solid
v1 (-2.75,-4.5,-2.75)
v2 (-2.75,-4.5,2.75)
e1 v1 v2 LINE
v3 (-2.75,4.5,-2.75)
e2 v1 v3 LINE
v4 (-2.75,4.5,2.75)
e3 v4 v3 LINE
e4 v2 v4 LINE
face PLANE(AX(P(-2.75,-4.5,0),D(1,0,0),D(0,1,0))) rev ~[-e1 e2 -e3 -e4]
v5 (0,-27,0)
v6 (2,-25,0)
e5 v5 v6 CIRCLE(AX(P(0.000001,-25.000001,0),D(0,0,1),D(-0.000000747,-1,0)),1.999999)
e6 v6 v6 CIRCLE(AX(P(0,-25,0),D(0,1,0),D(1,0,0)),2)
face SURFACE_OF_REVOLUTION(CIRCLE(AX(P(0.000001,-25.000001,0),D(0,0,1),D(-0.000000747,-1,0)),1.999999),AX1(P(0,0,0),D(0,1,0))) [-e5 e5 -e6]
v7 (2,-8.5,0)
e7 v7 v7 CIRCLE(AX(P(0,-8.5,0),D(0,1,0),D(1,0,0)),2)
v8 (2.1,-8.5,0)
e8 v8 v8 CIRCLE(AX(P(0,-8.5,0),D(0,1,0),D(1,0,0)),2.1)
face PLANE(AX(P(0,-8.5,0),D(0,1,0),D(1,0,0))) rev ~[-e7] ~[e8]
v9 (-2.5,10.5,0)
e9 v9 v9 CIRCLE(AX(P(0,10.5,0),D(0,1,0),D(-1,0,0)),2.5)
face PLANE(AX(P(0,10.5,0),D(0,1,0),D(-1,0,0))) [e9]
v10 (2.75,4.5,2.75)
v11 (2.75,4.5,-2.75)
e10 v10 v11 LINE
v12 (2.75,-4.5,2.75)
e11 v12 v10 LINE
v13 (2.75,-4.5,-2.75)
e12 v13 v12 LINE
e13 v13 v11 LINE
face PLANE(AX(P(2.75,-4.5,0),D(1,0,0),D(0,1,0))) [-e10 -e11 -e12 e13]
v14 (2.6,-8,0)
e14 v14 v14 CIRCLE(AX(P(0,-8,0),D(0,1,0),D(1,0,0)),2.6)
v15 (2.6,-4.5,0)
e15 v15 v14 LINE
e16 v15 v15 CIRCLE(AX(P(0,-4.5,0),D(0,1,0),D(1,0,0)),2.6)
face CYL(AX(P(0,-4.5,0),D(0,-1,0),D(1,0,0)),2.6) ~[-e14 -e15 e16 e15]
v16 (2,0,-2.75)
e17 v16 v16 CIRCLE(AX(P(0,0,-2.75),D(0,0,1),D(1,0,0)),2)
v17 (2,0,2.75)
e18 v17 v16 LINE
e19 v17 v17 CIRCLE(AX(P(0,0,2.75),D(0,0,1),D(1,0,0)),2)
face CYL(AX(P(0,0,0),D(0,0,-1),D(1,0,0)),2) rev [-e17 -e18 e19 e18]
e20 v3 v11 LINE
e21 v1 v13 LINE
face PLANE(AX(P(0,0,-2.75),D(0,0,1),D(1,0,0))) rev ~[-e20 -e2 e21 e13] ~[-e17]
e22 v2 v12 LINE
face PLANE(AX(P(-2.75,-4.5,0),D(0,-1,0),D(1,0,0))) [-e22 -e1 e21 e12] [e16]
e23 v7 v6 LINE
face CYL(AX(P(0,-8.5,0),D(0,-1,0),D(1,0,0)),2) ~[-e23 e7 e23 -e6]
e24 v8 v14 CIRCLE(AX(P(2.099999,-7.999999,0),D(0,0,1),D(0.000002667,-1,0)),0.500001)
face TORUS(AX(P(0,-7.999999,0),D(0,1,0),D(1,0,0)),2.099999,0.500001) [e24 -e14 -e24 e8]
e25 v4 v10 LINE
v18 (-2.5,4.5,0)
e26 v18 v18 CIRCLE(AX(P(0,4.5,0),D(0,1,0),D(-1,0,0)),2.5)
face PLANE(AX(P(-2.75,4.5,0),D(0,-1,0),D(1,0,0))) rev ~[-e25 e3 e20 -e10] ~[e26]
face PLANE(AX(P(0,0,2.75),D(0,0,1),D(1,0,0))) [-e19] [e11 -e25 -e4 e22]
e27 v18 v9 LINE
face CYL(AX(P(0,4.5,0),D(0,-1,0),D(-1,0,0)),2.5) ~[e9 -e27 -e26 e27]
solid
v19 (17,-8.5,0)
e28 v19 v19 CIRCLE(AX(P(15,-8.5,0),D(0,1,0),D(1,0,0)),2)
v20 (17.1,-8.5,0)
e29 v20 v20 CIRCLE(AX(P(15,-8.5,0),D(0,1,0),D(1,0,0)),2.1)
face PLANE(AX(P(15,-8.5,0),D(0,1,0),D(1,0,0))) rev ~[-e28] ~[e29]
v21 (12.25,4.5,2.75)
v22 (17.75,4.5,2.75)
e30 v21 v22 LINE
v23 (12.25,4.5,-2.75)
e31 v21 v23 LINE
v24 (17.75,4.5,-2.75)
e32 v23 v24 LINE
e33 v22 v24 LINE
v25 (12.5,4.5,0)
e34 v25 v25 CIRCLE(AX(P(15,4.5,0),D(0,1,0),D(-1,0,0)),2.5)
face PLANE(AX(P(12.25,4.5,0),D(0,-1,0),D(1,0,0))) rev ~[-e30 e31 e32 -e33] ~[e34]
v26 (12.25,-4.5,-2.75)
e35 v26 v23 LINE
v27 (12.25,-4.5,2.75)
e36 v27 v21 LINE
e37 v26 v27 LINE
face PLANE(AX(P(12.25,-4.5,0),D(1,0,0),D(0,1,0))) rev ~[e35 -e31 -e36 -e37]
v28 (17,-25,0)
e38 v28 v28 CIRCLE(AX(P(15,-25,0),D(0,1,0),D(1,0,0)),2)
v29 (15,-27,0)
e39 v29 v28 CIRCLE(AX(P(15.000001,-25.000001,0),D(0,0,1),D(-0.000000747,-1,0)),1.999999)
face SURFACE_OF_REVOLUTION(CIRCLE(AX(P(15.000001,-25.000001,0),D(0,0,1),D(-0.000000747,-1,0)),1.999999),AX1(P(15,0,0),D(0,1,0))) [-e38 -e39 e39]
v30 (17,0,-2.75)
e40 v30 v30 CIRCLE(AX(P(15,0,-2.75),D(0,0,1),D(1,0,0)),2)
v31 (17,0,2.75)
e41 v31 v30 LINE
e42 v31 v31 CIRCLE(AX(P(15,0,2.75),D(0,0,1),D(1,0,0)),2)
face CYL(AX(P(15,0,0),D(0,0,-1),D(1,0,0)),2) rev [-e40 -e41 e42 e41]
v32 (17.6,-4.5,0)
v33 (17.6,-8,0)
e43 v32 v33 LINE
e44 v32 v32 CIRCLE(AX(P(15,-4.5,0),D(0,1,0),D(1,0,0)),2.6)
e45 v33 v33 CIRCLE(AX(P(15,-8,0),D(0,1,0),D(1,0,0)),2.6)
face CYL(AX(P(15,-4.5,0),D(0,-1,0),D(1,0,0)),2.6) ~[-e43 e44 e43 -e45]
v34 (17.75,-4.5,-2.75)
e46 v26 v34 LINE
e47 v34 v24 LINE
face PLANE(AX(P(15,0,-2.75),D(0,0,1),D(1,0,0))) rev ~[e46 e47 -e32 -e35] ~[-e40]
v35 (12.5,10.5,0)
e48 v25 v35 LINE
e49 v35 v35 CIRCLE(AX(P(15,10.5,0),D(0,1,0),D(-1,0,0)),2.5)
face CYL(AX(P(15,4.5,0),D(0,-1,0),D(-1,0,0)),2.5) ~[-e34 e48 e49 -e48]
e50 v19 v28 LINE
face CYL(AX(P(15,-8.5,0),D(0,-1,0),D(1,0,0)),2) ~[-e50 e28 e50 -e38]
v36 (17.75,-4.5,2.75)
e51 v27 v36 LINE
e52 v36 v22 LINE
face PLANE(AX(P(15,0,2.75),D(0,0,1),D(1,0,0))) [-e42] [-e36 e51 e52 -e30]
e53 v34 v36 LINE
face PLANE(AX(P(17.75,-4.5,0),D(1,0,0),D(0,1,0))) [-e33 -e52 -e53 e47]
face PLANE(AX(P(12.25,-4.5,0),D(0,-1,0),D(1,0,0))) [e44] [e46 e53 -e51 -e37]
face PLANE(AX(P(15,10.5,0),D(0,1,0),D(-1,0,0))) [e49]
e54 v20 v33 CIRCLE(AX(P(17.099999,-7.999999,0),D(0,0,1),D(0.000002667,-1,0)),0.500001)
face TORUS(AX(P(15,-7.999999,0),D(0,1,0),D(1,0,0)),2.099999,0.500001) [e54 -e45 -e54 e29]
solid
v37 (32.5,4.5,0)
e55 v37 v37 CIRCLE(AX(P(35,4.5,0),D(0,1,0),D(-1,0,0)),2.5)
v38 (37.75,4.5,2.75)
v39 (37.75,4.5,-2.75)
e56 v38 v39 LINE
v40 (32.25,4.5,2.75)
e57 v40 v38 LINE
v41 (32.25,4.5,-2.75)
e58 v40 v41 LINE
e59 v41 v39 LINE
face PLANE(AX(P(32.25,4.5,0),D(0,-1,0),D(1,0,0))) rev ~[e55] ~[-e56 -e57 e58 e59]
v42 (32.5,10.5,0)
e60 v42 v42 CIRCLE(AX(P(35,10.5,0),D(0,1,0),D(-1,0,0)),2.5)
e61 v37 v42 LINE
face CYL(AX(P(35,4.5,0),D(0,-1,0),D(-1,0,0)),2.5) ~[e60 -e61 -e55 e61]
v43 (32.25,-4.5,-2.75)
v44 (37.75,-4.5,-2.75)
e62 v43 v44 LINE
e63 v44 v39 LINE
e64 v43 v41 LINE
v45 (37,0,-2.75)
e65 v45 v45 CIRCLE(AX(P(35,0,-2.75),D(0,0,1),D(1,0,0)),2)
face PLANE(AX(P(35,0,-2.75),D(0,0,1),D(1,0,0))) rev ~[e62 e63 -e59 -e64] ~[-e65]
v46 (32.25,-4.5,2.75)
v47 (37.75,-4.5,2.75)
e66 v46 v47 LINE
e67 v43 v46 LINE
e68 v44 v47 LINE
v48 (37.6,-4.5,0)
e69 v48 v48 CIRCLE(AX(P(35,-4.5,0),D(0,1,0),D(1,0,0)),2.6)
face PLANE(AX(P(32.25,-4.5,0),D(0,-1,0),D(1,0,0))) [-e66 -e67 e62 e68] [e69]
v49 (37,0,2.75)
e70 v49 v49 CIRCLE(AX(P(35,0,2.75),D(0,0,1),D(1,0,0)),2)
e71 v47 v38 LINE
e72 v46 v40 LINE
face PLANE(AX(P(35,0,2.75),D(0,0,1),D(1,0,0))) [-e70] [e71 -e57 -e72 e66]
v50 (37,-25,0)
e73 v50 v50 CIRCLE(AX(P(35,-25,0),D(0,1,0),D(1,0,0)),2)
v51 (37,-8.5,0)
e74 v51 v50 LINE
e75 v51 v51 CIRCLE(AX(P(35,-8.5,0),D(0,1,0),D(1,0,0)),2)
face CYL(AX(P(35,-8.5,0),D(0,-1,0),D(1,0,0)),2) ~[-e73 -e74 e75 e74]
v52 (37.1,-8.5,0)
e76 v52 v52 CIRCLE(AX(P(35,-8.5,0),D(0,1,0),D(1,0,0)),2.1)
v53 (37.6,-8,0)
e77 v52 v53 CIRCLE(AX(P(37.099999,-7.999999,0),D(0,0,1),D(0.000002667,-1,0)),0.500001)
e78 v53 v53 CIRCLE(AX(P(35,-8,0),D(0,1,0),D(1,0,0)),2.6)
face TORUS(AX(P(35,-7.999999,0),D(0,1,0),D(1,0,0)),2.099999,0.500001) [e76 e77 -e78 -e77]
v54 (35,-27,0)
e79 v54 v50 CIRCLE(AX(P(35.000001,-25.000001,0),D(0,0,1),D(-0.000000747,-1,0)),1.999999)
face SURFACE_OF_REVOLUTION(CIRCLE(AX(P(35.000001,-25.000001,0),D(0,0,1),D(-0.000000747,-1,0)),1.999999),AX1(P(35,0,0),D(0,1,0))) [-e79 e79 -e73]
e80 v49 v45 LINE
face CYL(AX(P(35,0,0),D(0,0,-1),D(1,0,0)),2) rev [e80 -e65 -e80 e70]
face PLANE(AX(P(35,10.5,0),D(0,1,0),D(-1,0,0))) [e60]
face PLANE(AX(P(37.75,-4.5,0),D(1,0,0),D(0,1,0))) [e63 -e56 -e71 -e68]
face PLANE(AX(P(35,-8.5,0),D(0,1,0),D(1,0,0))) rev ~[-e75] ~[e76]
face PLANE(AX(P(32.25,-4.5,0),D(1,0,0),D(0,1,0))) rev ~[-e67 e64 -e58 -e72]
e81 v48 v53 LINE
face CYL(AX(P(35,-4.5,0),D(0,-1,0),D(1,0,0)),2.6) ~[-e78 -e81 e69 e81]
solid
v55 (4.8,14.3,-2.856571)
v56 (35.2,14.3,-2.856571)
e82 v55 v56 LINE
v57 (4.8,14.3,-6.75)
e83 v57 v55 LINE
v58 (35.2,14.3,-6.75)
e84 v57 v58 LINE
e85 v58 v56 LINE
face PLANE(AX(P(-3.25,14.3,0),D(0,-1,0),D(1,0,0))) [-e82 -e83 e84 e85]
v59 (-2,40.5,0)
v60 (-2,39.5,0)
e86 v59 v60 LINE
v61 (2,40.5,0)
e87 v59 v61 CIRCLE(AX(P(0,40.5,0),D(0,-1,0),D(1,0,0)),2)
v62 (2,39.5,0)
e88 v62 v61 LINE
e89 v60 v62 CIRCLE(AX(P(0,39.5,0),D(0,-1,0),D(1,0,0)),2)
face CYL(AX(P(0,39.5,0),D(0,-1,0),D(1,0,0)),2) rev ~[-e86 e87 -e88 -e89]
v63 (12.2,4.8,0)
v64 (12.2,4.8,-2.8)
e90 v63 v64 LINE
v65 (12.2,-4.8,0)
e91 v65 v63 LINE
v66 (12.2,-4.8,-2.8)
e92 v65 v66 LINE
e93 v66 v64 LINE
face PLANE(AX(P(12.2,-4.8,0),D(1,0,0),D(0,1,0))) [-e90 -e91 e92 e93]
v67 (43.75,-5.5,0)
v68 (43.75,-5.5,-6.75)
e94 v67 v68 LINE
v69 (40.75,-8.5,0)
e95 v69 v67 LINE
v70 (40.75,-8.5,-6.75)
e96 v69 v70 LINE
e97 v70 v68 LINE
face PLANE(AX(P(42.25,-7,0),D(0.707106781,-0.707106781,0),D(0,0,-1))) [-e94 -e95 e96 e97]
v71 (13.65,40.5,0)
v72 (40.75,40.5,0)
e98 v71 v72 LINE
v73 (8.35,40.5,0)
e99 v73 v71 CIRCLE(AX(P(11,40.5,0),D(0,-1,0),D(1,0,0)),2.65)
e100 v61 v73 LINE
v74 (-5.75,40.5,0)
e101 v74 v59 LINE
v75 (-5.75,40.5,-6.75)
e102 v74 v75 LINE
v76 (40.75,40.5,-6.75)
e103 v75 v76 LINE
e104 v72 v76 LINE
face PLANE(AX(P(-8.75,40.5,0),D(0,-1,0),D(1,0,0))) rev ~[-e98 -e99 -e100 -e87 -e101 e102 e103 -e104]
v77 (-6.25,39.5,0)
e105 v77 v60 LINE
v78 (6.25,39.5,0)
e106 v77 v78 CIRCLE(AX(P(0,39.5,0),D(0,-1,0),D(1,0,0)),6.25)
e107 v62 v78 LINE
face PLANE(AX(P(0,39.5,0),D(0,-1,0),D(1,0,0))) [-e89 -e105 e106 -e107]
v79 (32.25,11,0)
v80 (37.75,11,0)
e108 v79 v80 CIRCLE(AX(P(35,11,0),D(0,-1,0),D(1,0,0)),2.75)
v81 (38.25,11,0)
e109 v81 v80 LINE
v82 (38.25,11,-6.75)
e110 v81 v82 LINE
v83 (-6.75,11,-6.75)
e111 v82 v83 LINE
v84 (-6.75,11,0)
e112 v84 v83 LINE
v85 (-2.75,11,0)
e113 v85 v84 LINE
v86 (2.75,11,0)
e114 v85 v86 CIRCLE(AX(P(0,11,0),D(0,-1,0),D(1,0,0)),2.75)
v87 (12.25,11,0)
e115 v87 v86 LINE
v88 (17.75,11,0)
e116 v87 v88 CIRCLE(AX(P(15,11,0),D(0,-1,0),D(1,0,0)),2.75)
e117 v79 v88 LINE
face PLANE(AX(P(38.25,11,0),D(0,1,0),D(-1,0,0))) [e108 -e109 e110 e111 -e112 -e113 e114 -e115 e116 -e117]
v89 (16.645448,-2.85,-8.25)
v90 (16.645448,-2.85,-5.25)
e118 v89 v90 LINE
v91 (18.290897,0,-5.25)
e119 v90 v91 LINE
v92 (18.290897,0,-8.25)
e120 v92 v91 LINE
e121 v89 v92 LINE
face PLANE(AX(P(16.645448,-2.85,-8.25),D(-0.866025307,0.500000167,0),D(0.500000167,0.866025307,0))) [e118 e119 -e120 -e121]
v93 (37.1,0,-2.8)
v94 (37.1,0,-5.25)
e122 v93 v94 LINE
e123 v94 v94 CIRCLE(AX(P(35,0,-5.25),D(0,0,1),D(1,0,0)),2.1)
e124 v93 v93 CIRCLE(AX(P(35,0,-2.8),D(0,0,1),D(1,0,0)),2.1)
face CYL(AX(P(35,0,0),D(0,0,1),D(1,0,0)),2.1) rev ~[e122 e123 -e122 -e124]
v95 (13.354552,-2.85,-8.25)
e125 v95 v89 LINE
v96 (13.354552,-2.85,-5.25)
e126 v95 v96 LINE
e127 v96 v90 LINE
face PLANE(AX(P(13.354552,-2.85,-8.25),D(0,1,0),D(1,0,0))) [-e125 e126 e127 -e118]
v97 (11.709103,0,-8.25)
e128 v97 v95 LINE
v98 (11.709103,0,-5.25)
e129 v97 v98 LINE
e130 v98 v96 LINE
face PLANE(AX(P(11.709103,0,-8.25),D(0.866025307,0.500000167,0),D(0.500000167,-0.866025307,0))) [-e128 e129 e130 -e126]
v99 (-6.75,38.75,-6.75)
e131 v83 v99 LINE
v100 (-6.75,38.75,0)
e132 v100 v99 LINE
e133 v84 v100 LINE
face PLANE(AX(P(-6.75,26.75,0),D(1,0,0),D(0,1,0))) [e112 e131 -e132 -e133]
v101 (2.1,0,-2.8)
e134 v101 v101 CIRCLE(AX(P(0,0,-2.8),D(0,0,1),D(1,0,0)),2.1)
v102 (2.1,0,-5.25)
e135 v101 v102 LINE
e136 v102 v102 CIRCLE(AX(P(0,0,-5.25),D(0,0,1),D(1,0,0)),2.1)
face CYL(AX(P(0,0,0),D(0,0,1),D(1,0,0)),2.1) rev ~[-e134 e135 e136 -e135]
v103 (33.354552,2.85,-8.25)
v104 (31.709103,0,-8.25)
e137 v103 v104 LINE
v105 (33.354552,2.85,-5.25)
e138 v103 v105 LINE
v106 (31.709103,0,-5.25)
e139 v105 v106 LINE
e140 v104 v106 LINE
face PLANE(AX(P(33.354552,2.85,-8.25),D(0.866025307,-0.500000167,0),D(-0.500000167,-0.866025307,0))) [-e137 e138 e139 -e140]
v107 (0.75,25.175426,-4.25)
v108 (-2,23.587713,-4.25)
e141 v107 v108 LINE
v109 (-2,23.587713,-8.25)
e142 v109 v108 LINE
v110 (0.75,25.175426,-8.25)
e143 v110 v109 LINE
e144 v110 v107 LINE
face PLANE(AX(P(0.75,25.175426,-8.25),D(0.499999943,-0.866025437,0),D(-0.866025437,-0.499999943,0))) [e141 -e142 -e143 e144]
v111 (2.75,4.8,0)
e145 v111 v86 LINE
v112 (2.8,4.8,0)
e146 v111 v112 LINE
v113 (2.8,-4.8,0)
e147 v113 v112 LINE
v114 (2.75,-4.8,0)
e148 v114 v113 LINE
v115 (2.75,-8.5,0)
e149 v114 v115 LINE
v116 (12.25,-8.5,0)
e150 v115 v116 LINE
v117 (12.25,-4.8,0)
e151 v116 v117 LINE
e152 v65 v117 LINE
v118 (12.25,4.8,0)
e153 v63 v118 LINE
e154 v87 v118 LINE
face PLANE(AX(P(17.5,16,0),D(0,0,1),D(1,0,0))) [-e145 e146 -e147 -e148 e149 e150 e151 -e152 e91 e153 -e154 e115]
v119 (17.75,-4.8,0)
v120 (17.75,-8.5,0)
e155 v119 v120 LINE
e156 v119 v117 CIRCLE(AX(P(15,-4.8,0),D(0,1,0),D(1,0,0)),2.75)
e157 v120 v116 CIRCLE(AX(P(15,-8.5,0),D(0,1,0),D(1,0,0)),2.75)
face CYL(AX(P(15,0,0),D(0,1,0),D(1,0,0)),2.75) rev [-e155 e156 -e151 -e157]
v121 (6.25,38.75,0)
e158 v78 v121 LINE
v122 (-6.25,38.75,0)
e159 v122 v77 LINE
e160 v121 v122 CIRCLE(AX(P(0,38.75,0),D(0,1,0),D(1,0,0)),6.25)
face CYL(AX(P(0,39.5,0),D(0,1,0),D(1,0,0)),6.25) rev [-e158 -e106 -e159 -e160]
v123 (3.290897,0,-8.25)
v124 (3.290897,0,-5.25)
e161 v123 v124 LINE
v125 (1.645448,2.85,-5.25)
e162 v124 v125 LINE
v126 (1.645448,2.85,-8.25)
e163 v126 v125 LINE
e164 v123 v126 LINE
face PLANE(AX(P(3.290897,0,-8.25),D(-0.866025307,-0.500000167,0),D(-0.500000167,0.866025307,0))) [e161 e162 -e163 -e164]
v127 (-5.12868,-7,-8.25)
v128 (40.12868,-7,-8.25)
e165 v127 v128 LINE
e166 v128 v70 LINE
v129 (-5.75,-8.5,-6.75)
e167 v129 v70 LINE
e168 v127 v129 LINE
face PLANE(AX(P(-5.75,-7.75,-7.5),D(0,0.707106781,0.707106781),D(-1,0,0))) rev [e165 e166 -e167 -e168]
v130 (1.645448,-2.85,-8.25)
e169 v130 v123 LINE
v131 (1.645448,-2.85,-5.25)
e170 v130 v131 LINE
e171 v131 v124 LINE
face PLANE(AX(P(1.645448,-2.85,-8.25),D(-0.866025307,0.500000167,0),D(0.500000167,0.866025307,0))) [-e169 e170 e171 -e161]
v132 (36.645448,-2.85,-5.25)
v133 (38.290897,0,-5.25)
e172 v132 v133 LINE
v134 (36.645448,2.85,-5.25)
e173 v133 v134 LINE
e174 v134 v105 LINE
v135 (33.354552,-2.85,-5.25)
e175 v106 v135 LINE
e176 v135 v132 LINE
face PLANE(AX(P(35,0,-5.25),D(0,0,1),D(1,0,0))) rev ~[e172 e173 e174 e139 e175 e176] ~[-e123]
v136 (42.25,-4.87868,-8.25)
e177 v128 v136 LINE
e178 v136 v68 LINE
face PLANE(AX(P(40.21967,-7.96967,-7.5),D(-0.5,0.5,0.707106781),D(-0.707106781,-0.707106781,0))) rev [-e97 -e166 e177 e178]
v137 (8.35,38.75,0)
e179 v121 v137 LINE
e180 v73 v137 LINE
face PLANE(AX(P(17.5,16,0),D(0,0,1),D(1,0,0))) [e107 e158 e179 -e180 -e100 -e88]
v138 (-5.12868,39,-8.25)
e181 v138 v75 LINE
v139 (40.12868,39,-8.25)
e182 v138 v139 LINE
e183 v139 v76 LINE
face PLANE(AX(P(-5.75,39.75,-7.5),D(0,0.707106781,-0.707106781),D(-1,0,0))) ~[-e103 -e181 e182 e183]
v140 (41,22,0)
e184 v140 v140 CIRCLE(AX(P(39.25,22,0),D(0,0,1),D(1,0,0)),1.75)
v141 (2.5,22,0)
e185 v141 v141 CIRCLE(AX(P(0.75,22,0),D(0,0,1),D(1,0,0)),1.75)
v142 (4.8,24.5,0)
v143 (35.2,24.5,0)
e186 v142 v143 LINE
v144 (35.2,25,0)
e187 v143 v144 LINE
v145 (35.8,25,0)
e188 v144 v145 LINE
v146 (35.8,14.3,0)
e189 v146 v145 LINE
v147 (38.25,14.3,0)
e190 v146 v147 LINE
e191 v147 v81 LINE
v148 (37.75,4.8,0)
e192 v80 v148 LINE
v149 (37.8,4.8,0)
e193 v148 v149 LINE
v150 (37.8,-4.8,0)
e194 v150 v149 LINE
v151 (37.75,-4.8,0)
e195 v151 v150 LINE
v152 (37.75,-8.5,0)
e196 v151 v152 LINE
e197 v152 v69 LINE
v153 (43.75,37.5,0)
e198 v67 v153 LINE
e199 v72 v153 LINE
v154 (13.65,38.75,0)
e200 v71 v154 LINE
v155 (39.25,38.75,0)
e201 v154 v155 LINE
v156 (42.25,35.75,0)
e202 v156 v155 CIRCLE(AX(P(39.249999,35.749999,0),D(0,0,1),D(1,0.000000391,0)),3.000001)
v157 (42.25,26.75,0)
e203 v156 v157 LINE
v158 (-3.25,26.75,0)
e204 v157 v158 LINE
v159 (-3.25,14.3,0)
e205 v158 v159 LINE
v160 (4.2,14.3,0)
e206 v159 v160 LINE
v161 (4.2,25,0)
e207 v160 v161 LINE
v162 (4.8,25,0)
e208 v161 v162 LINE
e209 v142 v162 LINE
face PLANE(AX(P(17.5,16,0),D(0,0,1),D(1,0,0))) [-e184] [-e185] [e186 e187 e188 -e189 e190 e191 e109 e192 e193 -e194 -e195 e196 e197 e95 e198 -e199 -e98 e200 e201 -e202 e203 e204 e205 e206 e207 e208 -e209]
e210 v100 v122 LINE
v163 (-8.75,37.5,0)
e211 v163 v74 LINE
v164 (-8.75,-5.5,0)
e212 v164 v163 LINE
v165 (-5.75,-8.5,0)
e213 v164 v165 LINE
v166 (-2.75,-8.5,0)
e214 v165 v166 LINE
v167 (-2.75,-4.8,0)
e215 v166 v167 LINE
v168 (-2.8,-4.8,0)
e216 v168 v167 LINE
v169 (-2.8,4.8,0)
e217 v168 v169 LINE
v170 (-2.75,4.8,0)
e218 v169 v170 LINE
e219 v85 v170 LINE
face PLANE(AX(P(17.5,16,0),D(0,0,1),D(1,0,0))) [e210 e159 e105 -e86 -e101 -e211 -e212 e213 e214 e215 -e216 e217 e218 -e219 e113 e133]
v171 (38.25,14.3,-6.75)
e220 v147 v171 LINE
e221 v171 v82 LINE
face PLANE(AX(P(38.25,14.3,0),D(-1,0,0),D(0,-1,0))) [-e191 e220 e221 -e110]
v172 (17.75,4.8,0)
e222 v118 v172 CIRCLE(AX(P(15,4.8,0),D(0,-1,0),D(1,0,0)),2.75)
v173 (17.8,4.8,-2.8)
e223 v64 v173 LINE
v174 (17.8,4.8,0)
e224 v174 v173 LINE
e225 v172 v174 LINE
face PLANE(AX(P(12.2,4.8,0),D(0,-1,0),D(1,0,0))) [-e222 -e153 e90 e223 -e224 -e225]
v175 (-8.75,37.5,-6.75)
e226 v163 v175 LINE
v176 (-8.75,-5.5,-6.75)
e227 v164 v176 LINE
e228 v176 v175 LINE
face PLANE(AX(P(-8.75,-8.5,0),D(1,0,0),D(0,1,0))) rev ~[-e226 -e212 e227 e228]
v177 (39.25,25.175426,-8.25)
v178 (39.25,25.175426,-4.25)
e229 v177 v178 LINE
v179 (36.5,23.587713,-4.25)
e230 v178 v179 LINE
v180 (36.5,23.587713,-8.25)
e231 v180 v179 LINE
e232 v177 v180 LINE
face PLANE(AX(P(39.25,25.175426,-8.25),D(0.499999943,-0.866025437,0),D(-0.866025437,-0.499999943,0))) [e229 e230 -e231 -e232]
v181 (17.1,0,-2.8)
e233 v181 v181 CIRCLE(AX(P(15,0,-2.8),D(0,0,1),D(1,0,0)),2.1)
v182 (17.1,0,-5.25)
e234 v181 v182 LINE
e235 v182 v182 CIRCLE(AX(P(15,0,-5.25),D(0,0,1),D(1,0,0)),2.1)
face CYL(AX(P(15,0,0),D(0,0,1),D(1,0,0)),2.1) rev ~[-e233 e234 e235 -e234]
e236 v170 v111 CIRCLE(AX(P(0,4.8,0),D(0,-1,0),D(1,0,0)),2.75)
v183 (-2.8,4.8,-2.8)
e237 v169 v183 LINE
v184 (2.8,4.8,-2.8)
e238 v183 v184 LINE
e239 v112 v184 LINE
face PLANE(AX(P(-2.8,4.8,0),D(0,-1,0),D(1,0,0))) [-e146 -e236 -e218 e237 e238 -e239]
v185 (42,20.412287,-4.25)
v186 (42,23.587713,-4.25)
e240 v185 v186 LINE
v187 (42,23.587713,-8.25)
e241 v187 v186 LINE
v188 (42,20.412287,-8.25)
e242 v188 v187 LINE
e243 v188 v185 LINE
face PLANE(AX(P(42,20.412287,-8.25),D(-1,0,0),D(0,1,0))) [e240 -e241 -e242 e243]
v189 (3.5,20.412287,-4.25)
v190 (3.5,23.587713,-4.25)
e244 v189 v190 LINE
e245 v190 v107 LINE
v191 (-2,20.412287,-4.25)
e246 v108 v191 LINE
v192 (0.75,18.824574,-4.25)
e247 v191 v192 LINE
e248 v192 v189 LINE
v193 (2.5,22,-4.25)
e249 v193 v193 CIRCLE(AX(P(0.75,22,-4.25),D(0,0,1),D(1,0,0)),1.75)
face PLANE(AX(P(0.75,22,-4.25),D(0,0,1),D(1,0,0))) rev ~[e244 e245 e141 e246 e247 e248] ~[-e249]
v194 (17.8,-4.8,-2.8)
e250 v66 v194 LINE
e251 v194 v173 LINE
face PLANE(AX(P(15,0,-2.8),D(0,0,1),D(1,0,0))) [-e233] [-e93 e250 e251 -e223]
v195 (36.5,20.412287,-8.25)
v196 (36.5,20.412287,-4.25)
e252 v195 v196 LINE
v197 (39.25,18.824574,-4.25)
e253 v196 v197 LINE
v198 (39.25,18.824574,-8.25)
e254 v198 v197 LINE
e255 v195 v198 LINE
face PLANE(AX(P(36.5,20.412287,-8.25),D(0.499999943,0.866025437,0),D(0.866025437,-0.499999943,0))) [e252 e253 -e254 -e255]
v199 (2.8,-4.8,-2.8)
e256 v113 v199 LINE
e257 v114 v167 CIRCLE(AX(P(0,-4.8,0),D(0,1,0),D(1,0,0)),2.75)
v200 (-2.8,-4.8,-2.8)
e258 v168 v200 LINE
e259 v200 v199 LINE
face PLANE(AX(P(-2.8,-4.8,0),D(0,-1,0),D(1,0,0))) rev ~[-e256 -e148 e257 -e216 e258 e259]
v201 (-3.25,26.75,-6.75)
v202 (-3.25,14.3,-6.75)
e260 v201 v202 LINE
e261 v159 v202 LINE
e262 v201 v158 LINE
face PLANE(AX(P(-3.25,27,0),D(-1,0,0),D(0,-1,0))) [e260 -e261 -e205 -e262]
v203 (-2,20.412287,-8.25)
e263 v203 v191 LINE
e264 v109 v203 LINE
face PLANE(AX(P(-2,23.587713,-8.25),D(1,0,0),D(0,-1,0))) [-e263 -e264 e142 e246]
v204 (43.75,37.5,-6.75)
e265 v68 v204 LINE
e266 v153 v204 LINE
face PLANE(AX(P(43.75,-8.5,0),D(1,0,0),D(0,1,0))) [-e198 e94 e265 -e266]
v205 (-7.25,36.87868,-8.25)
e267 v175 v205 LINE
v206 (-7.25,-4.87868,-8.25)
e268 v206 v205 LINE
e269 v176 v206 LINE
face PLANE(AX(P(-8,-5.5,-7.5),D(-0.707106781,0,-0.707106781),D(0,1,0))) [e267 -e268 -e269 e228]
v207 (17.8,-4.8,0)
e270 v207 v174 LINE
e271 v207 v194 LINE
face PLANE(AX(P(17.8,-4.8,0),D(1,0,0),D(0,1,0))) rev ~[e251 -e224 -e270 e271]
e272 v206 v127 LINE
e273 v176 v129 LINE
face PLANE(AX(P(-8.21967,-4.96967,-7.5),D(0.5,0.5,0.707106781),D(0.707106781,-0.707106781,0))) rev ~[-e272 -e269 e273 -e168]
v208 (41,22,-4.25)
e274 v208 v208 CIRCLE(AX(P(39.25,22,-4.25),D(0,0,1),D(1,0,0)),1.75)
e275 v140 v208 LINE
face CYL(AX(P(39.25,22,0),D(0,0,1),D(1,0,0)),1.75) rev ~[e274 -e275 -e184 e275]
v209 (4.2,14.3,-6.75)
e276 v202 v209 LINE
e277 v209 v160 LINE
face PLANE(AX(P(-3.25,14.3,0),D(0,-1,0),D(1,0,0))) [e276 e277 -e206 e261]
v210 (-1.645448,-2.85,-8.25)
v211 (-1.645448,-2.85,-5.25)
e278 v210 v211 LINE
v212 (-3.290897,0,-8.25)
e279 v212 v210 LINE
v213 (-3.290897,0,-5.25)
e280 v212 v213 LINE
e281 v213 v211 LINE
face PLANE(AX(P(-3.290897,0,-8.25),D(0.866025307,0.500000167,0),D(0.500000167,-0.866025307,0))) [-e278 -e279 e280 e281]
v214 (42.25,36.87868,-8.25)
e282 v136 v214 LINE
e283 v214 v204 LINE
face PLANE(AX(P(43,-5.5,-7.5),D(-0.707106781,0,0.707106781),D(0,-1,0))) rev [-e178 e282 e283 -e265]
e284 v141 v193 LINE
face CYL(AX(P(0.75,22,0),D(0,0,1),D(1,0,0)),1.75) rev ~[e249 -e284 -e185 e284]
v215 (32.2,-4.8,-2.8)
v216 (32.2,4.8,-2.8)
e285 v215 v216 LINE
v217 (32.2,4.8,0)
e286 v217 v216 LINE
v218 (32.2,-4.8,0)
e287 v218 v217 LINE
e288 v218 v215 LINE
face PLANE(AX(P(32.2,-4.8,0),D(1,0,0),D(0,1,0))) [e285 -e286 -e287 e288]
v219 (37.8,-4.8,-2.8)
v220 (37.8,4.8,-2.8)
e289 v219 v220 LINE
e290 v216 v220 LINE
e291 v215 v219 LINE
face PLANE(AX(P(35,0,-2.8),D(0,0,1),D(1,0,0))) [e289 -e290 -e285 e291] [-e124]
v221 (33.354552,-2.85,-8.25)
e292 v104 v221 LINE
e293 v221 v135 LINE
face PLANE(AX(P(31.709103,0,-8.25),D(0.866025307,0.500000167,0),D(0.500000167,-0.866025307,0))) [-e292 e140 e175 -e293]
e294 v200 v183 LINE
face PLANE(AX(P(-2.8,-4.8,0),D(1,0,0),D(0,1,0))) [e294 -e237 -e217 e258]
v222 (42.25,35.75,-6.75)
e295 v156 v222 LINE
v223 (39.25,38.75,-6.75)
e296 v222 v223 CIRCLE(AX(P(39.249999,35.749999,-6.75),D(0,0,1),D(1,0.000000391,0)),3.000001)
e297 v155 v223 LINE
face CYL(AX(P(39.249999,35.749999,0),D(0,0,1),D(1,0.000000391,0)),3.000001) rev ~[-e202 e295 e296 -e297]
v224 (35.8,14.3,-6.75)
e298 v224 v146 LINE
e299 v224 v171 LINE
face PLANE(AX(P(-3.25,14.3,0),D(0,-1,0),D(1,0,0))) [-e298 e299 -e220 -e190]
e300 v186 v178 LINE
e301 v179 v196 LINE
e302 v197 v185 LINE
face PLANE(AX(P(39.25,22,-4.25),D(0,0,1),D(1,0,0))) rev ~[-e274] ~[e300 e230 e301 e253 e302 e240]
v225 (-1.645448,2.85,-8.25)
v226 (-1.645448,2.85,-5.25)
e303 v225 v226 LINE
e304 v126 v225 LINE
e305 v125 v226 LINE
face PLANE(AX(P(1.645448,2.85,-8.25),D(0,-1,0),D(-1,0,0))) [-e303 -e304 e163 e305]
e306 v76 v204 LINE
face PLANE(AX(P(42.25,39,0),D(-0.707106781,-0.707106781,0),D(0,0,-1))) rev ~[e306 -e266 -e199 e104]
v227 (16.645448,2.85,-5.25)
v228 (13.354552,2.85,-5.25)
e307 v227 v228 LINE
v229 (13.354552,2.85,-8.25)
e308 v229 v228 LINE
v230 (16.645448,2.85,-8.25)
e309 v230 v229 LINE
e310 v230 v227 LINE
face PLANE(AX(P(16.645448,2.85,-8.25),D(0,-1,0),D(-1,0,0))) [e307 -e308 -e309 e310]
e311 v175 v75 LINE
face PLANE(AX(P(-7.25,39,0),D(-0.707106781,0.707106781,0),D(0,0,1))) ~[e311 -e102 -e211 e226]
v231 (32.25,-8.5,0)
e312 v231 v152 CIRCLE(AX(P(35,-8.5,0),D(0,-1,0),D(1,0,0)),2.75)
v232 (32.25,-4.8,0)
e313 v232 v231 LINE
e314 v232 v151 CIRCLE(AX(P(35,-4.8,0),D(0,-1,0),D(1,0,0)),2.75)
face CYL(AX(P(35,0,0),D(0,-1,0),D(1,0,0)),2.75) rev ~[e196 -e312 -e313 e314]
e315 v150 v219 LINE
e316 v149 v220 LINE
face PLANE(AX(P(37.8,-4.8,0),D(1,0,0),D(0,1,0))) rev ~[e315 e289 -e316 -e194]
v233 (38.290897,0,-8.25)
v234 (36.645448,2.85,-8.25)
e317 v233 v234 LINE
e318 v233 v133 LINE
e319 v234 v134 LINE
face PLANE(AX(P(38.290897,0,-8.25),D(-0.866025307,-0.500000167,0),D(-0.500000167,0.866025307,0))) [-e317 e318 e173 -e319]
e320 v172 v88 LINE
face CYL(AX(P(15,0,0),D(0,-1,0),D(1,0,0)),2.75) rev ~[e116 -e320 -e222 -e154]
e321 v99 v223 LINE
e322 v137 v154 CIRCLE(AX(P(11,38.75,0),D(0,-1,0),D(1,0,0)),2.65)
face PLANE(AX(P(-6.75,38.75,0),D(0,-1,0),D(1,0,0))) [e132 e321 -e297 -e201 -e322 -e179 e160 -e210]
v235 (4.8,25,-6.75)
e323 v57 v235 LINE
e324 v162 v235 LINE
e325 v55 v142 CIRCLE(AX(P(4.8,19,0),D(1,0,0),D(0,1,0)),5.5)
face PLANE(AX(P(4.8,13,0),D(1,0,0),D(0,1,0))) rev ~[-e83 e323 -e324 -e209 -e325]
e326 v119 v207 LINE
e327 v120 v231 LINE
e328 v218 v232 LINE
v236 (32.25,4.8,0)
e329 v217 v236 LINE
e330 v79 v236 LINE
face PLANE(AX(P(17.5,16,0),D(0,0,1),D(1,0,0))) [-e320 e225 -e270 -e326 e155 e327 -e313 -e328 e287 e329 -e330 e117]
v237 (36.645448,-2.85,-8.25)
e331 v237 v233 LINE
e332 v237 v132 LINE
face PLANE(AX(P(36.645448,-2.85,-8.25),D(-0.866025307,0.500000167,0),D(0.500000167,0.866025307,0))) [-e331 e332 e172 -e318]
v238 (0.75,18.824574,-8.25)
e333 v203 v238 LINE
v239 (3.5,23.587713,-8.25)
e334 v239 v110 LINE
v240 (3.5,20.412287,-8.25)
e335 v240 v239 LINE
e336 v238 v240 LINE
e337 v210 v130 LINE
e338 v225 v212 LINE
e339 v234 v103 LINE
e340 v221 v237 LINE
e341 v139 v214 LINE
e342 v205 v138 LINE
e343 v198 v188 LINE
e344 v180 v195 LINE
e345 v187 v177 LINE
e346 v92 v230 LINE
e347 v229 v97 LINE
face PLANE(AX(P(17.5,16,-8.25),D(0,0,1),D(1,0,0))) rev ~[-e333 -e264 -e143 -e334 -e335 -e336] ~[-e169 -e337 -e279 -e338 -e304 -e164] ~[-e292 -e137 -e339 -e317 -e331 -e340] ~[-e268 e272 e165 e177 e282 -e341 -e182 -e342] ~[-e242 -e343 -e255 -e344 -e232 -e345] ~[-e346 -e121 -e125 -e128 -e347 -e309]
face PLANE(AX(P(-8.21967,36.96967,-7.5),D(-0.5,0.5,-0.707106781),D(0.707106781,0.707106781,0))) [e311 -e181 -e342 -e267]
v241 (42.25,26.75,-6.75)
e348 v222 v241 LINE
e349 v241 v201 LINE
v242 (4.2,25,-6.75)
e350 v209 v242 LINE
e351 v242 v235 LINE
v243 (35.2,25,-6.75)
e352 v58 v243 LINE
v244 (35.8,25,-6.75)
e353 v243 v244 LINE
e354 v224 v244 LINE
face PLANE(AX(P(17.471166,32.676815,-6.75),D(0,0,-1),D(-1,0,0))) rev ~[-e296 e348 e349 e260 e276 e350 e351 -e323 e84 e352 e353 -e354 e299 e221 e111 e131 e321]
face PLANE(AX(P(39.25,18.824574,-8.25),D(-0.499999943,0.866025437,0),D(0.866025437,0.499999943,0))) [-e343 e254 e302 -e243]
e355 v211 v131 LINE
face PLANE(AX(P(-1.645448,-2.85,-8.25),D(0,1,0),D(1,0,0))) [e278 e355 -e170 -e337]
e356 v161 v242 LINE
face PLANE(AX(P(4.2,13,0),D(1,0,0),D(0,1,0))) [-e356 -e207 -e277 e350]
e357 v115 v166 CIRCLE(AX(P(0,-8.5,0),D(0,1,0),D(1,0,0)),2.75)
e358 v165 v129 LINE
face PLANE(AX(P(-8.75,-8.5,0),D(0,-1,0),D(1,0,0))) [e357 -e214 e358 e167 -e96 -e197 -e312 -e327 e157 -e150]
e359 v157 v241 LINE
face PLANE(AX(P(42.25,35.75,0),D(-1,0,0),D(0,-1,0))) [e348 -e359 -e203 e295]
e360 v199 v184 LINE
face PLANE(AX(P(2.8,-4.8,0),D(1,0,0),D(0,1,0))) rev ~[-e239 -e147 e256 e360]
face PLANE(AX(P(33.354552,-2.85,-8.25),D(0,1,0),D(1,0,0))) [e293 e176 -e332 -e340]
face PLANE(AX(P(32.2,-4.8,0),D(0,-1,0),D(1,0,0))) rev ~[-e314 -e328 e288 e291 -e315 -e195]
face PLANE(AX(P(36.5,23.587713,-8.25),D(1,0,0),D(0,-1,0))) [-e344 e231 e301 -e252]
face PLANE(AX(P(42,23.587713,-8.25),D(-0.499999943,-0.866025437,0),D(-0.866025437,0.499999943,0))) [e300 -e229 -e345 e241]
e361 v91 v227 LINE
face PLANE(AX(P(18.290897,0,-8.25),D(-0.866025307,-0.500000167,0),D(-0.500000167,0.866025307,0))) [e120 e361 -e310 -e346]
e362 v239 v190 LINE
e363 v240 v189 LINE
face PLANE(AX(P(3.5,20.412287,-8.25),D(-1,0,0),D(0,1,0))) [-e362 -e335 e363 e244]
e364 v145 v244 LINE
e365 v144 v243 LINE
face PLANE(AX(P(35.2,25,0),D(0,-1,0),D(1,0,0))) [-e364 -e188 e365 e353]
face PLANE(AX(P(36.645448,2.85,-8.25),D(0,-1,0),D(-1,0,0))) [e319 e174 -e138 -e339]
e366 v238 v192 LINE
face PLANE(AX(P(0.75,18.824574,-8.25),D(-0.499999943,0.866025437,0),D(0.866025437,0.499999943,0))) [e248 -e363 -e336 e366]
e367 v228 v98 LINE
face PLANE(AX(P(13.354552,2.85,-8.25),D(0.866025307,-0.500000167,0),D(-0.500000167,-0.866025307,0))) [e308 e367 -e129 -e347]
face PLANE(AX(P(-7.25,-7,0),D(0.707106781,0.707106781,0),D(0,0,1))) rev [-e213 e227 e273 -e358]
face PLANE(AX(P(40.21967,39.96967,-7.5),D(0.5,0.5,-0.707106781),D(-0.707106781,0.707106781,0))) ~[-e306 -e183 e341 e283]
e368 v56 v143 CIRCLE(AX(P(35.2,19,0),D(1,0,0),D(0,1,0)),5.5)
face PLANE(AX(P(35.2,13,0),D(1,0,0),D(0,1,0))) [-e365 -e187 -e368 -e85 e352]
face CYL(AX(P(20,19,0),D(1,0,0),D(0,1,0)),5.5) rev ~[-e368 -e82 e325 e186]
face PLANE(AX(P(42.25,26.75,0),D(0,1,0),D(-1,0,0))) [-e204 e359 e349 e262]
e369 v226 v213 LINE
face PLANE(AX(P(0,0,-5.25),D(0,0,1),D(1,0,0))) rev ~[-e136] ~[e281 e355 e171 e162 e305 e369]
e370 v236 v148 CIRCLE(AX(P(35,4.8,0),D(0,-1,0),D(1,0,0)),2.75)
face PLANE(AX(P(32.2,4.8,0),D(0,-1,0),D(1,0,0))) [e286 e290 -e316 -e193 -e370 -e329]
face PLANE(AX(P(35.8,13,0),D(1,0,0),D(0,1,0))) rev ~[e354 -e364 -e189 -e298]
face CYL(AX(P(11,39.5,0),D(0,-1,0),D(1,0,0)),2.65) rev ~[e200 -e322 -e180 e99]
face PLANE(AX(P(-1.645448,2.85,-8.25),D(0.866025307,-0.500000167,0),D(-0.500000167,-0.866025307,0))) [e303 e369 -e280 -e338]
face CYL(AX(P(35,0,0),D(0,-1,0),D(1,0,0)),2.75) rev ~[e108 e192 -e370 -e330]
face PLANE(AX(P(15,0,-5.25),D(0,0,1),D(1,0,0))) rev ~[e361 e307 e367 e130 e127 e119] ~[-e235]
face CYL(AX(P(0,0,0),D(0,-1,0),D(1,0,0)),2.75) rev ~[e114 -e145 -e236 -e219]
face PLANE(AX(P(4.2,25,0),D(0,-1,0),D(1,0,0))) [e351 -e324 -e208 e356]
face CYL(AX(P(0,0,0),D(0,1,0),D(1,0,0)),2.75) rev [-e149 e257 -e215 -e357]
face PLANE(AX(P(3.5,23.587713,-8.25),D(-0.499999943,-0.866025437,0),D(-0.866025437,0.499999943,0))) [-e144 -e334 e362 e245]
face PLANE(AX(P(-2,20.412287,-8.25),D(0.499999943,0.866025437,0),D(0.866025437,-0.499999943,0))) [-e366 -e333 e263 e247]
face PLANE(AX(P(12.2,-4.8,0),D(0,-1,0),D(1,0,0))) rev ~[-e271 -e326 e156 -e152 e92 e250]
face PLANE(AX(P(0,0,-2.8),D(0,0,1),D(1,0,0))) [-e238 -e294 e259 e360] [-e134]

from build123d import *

# Parameters (mm, degrees)
SKETCH_W        = 5.5
SKETCH_H        = 9
SKETCH_R        = 2
PAD_DEPTH       = 2.75
SKETCH001_R     = 2.5
PAD001_DEPTH    = 6
SKETCH003_W     = 52.5
SKETCH003_H     = 49
PAD002_DEPTH    = 8.25
SKETCH004_W     = 5.6
SKETCH004_H     = 9.6
POCKET_DEPTH    = 2.8
SKETCH005_R     = 2.75
POCKET001_DEPTH = 11
SKETCH006_R     = 2.1
POCKET002_DEPTH = 8.251
POCKET003_DEPTH = 3
SKETCH008_R     = 5.5
POCKET004_DEPTH = 15.5
POCKET005_DEPTH = 6.75
SKETCH010_R     = 6.25
POCKET006_DEPTH = 12
SKETCH012_R     = 2.65
POCKET008_DEPTH = 2.5
SKETCH013_R     = 2
POCKET009_DEPTH = 5
POCKET007_DEPTH = 6.75
SKETCH014_R     = 1.75
POCKET010_DEPTH = 8.251
POCKET011_DEPTH = 4
CHAMFER_SIZE    = 3
CHAMFER001_SIZE = 1.5
SKETCH016_W     = 0.6
SKETCH016_H     = 12
POCKET012_DEPTH = 6.75


with BuildPart() as banana:
    # Sketch → Pad (new body, symmetric)
    with BuildSketch(Plane.XY):
        Rectangle(SKETCH_W, SKETCH_H)
        Circle(SKETCH_R, mode=Mode.SUBTRACT)
    extrude(amount=PAD_DEPTH, both=True)

    # Sketch001 (on Face1 of Pad) → Pad001 (join)
    with BuildSketch(Plane(origin=(0, 4.5, 0), x_dir=(-1, 0, 0), z_dir=(0, 1, 0))):
        Circle(SKETCH001_R)
    extrude(amount=PAD001_DEPTH)

    # Sketch002 → Revolution (revolve)
    with BuildSketch(Plane.XY):
        with BuildLine():
            Line((0, -4.5), (2.6, -4.5))
            Line((2.6, -4.5), (2.6, -8))
            ThreePointArc((2.1, -8.5), (2.453553, -8.353553), (2.6, -8))
            Line((2.1, -8.5), (2, -8.5))
            Line((2, -8.5), (2, -25))
            ThreePointArc((0, -27), (1.414214, -26.414214), (2, -25))
            Line((0, -27), (0, -4.5))
        make_face()
    revolve(axis=Axis((0, 0, 0), (0, 1, 0)))


with BuildPart() as banana001:
    # Sketch → Pad (new body, symmetric)
    with BuildSketch(Plane.XY):
        Rectangle(SKETCH_W, SKETCH_H)
        Circle(SKETCH_R, mode=Mode.SUBTRACT)
    extrude(amount=PAD_DEPTH, both=True)

    # Sketch001 (on Face1 of Pad) → Pad001 (join)
    with BuildSketch(Plane(origin=(0, 4.5, 0), x_dir=(-1, 0, 0), z_dir=(0, 1, 0))):
        Circle(SKETCH001_R)
    extrude(amount=PAD001_DEPTH)

    # Sketch002 → Revolution (revolve)
    with BuildSketch(Plane.XY):
        with BuildLine():
            Line((0, -4.5), (2.6, -4.5))
            Line((2.6, -4.5), (2.6, -8))
            ThreePointArc((2.1, -8.5), (2.453553, -8.353553), (2.6, -8))
            Line((2.1, -8.5), (2, -8.5))
            Line((2, -8.5), (2, -25))
            ThreePointArc((0, -27), (1.414214, -26.414214), (2, -25))
            Line((0, -27), (0, -4.5))
        make_face()
    revolve(axis=Axis((0, 0, 0), (0, 1, 0)))


with BuildPart() as banana001_1:
    # Body001 placement: moved
    add(banana001.part.moved(Location((15, 0, 0))))


with BuildPart() as banana002:
    # Sketch → Pad (new body, symmetric)
    with BuildSketch(Plane.XY):
        Rectangle(SKETCH_W, SKETCH_H)
        Circle(SKETCH_R, mode=Mode.SUBTRACT)
    extrude(amount=PAD_DEPTH, both=True)

    # Sketch001 (on Face1 of Pad) → Pad001 (join)
    with BuildSketch(Plane(origin=(0, 4.5, 0), x_dir=(-1, 0, 0), z_dir=(0, 1, 0))):
        Circle(SKETCH001_R)
    extrude(amount=PAD001_DEPTH)

    # Sketch002 → Revolution (revolve)
    with BuildSketch(Plane.XY):
        with BuildLine():
            Line((0, -4.5), (2.6, -4.5))
            Line((2.6, -4.5), (2.6, -8))
            ThreePointArc((2.1, -8.5), (2.453553, -8.353553), (2.6, -8))
            Line((2.1, -8.5), (2, -8.5))
            Line((2, -8.5), (2, -25))
            ThreePointArc((0, -27), (1.414214, -26.414214), (2, -25))
            Line((0, -27), (0, -4.5))
        make_face()
    revolve(axis=Axis((0, 0, 0), (0, 1, 0)))


with BuildPart() as banana002_1:
    # Body002 placement: moved
    add(banana002.part.moved(Location((35, 0, 0))))


with BuildPart() as body003:
    # Sketch003 → Pad002 (new body)
    with BuildSketch(Plane.XY):
        with Locations((17.5, 16)):
            Rectangle(SKETCH003_W, SKETCH003_H)
    extrude(amount=-PAD002_DEPTH)

    # Sketch004 → Pocket (cut)
    with BuildSketch(Plane.XY):
        Rectangle(SKETCH004_W, SKETCH004_H)
        with Locations((15, 0)):
            Rectangle(SKETCH004_W, SKETCH004_H)
        with Locations((35, 0)):
            Rectangle(SKETCH004_W, SKETCH004_H)
    extrude(amount=-POCKET_DEPTH, mode=Mode.SUBTRACT)

    # Sketch005 → Pocket001 (cut, symmetric)
    with BuildSketch(Plane.XZ):
        Circle(SKETCH005_R)
        with Locations((15, 0)):
            Circle(SKETCH005_R)
        with Locations((35, 0)):
            Circle(SKETCH005_R)
    extrude(amount=POCKET001_DEPTH, both=True, mode=Mode.SUBTRACT)

    # Sketch006 → Pocket002 (cut, through all)
    with BuildSketch(Plane.XY):
        Circle(SKETCH006_R)
        with Locations((15, 0)):
            Circle(SKETCH006_R)
        with Locations((35, 0)):
            Circle(SKETCH006_R)
    extrude(amount=-POCKET002_DEPTH, mode=Mode.SUBTRACT)

    # Sketch007 → Pocket003 (cut)
    with BuildSketch(Plane.XY.offset(-8.25)):
        Polygon((1.645448, 2.85), (-1.645448, 2.85), (-3.290897, 0), (-1.645448, -2.85), (1.645448, -2.85), (3.290897, 0), align=None)
        Polygon((16.645448, -2.85), (18.290897, 0), (16.645448, 2.85), (13.354552, 2.85), (11.709103, 0), (13.354552, -2.85), align=None)
        Polygon((36.645448, -2.85), (38.290897, 0), (36.645448, 2.85), (33.354552, 2.85), (31.709103, 0), (33.354552, -2.85), align=None)
    extrude(amount=POCKET003_DEPTH, mode=Mode.SUBTRACT)

    # Sketch008 → Pocket004 (cut, symmetric)
    with BuildSketch(Plane(origin=(20, 19, 0), x_dir=(0, 1, 0), z_dir=(1, 0, 0))):
        Circle(SKETCH008_R)
    extrude(amount=POCKET004_DEPTH, both=True, mode=Mode.SUBTRACT)

    # Sketch009 → Pocket005 (cut)
    with BuildSketch(Plane.XY):
        with BuildLine():
            Line((-6.75, 38.75), (39.25, 38.75))
            ThreePointArc((42.25, 35.75), (41.37132, 37.87132), (39.25, 38.75))
            Line((42.25, 35.75), (42.25, 26.75))
            Line((42.25, 26.75), (-6.75, 26.75))
            Line((-6.75, 26.75), (-6.75, 38.75))
        make_face()
    extrude(amount=-POCKET005_DEPTH, mode=Mode.SUBTRACT)

    # Sketch010 → Pocket006 (cut)
    with BuildSketch(Plane.XZ.offset(-39.5)):
        Circle(SKETCH010_R)
    extrude(amount=POCKET006_DEPTH, mode=Mode.SUBTRACT)

    # Sketch012 → Pocket008 (cut, symmetric)
    with BuildSketch(Plane(origin=(11, 39.5, 0), x_dir=(1, 0, 0), z_dir=(0, -1, 0))):
        Circle(SKETCH012_R)
    extrude(amount=POCKET008_DEPTH, both=True, mode=Mode.SUBTRACT)

    # Sketch013 → Pocket009 (cut)
    with BuildSketch(Plane.XZ.offset(-39.5)):
        Circle(SKETCH013_R)
    extrude(amount=-POCKET009_DEPTH, mode=Mode.SUBTRACT)

    # Sketch011 → Pocket007 (cut)
    with BuildSketch(Plane.XY):
        Polygon((-6.75, 27), (-3.25, 27), (-3.25, 14.3), (38.25, 14.3), (38.25, 11), (-6.75, 11), align=None)
    extrude(amount=-POCKET007_DEPTH, mode=Mode.SUBTRACT)

    # Sketch014 → Pocket010 (cut, through all)
    with BuildSketch(Plane.XY):
        with Locations((0.75, 22)):
            Circle(SKETCH014_R)
        with Locations((39.25, 22)):
            Circle(SKETCH014_R)
    extrude(amount=-POCKET010_DEPTH, mode=Mode.SUBTRACT)

    # Sketch015 → Pocket011 (cut)
    with BuildSketch(Plane.XY.offset(-8.25)):
        Polygon((3.5, 20.412287), (3.5, 23.587713), (0.75, 25.175426), (-2, 23.587713), (-2, 20.412287), (0.75, 18.824574), align=None)
        Polygon((42, 20.412287), (42, 23.587713), (39.25, 25.175426), (36.5, 23.587713), (36.5, 20.412287), (39.25, 18.824574), align=None)
    extrude(amount=POCKET011_DEPTH, mode=Mode.SUBTRACT)

    # Chamfer
    chamfer_edges = [body003.edges().sort_by_distance(p)[0] for p in [
        (-8.75, 40.5, -4.125),
        (-8.75, -8.5, -4.125),
        (43.75, -8.5, -4.125),
        (43.75, 40.5, -4.125),
    ]]
    chamfer(chamfer_edges, length=CHAMFER_SIZE)

    # Chamfer001
    chamfer001_edges = [body003.edges().sort_by_distance(p)[0] for p in [
        (17.5, -8.5, -8.25),
        (42.25, -7, -8.25),
        (43.75, 16, -8.25),
        (42.25, 39, -8.25),
        (17.5, 40.5, -8.25),
        (-7.25, 39, -8.25),
        (-8.75, 16, -8.25),
        (-7.25, -7, -8.25),
    ]]
    chamfer(chamfer001_edges, length=CHAMFER001_SIZE)

    # Sketch016 → Pocket012 (cut)
    with BuildSketch(Plane.XY):
        with Locations((4.5, 19)):
            Rectangle(SKETCH016_W, SKETCH016_H)
        with Locations((35.5, 19)):
            Rectangle(SKETCH016_W, SKETCH016_H)
    extrude(amount=-POCKET012_DEPTH, mode=Mode.SUBTRACT)


solid = Compound([banana.part, banana001_1.part, banana002_1.part, body003.part])
